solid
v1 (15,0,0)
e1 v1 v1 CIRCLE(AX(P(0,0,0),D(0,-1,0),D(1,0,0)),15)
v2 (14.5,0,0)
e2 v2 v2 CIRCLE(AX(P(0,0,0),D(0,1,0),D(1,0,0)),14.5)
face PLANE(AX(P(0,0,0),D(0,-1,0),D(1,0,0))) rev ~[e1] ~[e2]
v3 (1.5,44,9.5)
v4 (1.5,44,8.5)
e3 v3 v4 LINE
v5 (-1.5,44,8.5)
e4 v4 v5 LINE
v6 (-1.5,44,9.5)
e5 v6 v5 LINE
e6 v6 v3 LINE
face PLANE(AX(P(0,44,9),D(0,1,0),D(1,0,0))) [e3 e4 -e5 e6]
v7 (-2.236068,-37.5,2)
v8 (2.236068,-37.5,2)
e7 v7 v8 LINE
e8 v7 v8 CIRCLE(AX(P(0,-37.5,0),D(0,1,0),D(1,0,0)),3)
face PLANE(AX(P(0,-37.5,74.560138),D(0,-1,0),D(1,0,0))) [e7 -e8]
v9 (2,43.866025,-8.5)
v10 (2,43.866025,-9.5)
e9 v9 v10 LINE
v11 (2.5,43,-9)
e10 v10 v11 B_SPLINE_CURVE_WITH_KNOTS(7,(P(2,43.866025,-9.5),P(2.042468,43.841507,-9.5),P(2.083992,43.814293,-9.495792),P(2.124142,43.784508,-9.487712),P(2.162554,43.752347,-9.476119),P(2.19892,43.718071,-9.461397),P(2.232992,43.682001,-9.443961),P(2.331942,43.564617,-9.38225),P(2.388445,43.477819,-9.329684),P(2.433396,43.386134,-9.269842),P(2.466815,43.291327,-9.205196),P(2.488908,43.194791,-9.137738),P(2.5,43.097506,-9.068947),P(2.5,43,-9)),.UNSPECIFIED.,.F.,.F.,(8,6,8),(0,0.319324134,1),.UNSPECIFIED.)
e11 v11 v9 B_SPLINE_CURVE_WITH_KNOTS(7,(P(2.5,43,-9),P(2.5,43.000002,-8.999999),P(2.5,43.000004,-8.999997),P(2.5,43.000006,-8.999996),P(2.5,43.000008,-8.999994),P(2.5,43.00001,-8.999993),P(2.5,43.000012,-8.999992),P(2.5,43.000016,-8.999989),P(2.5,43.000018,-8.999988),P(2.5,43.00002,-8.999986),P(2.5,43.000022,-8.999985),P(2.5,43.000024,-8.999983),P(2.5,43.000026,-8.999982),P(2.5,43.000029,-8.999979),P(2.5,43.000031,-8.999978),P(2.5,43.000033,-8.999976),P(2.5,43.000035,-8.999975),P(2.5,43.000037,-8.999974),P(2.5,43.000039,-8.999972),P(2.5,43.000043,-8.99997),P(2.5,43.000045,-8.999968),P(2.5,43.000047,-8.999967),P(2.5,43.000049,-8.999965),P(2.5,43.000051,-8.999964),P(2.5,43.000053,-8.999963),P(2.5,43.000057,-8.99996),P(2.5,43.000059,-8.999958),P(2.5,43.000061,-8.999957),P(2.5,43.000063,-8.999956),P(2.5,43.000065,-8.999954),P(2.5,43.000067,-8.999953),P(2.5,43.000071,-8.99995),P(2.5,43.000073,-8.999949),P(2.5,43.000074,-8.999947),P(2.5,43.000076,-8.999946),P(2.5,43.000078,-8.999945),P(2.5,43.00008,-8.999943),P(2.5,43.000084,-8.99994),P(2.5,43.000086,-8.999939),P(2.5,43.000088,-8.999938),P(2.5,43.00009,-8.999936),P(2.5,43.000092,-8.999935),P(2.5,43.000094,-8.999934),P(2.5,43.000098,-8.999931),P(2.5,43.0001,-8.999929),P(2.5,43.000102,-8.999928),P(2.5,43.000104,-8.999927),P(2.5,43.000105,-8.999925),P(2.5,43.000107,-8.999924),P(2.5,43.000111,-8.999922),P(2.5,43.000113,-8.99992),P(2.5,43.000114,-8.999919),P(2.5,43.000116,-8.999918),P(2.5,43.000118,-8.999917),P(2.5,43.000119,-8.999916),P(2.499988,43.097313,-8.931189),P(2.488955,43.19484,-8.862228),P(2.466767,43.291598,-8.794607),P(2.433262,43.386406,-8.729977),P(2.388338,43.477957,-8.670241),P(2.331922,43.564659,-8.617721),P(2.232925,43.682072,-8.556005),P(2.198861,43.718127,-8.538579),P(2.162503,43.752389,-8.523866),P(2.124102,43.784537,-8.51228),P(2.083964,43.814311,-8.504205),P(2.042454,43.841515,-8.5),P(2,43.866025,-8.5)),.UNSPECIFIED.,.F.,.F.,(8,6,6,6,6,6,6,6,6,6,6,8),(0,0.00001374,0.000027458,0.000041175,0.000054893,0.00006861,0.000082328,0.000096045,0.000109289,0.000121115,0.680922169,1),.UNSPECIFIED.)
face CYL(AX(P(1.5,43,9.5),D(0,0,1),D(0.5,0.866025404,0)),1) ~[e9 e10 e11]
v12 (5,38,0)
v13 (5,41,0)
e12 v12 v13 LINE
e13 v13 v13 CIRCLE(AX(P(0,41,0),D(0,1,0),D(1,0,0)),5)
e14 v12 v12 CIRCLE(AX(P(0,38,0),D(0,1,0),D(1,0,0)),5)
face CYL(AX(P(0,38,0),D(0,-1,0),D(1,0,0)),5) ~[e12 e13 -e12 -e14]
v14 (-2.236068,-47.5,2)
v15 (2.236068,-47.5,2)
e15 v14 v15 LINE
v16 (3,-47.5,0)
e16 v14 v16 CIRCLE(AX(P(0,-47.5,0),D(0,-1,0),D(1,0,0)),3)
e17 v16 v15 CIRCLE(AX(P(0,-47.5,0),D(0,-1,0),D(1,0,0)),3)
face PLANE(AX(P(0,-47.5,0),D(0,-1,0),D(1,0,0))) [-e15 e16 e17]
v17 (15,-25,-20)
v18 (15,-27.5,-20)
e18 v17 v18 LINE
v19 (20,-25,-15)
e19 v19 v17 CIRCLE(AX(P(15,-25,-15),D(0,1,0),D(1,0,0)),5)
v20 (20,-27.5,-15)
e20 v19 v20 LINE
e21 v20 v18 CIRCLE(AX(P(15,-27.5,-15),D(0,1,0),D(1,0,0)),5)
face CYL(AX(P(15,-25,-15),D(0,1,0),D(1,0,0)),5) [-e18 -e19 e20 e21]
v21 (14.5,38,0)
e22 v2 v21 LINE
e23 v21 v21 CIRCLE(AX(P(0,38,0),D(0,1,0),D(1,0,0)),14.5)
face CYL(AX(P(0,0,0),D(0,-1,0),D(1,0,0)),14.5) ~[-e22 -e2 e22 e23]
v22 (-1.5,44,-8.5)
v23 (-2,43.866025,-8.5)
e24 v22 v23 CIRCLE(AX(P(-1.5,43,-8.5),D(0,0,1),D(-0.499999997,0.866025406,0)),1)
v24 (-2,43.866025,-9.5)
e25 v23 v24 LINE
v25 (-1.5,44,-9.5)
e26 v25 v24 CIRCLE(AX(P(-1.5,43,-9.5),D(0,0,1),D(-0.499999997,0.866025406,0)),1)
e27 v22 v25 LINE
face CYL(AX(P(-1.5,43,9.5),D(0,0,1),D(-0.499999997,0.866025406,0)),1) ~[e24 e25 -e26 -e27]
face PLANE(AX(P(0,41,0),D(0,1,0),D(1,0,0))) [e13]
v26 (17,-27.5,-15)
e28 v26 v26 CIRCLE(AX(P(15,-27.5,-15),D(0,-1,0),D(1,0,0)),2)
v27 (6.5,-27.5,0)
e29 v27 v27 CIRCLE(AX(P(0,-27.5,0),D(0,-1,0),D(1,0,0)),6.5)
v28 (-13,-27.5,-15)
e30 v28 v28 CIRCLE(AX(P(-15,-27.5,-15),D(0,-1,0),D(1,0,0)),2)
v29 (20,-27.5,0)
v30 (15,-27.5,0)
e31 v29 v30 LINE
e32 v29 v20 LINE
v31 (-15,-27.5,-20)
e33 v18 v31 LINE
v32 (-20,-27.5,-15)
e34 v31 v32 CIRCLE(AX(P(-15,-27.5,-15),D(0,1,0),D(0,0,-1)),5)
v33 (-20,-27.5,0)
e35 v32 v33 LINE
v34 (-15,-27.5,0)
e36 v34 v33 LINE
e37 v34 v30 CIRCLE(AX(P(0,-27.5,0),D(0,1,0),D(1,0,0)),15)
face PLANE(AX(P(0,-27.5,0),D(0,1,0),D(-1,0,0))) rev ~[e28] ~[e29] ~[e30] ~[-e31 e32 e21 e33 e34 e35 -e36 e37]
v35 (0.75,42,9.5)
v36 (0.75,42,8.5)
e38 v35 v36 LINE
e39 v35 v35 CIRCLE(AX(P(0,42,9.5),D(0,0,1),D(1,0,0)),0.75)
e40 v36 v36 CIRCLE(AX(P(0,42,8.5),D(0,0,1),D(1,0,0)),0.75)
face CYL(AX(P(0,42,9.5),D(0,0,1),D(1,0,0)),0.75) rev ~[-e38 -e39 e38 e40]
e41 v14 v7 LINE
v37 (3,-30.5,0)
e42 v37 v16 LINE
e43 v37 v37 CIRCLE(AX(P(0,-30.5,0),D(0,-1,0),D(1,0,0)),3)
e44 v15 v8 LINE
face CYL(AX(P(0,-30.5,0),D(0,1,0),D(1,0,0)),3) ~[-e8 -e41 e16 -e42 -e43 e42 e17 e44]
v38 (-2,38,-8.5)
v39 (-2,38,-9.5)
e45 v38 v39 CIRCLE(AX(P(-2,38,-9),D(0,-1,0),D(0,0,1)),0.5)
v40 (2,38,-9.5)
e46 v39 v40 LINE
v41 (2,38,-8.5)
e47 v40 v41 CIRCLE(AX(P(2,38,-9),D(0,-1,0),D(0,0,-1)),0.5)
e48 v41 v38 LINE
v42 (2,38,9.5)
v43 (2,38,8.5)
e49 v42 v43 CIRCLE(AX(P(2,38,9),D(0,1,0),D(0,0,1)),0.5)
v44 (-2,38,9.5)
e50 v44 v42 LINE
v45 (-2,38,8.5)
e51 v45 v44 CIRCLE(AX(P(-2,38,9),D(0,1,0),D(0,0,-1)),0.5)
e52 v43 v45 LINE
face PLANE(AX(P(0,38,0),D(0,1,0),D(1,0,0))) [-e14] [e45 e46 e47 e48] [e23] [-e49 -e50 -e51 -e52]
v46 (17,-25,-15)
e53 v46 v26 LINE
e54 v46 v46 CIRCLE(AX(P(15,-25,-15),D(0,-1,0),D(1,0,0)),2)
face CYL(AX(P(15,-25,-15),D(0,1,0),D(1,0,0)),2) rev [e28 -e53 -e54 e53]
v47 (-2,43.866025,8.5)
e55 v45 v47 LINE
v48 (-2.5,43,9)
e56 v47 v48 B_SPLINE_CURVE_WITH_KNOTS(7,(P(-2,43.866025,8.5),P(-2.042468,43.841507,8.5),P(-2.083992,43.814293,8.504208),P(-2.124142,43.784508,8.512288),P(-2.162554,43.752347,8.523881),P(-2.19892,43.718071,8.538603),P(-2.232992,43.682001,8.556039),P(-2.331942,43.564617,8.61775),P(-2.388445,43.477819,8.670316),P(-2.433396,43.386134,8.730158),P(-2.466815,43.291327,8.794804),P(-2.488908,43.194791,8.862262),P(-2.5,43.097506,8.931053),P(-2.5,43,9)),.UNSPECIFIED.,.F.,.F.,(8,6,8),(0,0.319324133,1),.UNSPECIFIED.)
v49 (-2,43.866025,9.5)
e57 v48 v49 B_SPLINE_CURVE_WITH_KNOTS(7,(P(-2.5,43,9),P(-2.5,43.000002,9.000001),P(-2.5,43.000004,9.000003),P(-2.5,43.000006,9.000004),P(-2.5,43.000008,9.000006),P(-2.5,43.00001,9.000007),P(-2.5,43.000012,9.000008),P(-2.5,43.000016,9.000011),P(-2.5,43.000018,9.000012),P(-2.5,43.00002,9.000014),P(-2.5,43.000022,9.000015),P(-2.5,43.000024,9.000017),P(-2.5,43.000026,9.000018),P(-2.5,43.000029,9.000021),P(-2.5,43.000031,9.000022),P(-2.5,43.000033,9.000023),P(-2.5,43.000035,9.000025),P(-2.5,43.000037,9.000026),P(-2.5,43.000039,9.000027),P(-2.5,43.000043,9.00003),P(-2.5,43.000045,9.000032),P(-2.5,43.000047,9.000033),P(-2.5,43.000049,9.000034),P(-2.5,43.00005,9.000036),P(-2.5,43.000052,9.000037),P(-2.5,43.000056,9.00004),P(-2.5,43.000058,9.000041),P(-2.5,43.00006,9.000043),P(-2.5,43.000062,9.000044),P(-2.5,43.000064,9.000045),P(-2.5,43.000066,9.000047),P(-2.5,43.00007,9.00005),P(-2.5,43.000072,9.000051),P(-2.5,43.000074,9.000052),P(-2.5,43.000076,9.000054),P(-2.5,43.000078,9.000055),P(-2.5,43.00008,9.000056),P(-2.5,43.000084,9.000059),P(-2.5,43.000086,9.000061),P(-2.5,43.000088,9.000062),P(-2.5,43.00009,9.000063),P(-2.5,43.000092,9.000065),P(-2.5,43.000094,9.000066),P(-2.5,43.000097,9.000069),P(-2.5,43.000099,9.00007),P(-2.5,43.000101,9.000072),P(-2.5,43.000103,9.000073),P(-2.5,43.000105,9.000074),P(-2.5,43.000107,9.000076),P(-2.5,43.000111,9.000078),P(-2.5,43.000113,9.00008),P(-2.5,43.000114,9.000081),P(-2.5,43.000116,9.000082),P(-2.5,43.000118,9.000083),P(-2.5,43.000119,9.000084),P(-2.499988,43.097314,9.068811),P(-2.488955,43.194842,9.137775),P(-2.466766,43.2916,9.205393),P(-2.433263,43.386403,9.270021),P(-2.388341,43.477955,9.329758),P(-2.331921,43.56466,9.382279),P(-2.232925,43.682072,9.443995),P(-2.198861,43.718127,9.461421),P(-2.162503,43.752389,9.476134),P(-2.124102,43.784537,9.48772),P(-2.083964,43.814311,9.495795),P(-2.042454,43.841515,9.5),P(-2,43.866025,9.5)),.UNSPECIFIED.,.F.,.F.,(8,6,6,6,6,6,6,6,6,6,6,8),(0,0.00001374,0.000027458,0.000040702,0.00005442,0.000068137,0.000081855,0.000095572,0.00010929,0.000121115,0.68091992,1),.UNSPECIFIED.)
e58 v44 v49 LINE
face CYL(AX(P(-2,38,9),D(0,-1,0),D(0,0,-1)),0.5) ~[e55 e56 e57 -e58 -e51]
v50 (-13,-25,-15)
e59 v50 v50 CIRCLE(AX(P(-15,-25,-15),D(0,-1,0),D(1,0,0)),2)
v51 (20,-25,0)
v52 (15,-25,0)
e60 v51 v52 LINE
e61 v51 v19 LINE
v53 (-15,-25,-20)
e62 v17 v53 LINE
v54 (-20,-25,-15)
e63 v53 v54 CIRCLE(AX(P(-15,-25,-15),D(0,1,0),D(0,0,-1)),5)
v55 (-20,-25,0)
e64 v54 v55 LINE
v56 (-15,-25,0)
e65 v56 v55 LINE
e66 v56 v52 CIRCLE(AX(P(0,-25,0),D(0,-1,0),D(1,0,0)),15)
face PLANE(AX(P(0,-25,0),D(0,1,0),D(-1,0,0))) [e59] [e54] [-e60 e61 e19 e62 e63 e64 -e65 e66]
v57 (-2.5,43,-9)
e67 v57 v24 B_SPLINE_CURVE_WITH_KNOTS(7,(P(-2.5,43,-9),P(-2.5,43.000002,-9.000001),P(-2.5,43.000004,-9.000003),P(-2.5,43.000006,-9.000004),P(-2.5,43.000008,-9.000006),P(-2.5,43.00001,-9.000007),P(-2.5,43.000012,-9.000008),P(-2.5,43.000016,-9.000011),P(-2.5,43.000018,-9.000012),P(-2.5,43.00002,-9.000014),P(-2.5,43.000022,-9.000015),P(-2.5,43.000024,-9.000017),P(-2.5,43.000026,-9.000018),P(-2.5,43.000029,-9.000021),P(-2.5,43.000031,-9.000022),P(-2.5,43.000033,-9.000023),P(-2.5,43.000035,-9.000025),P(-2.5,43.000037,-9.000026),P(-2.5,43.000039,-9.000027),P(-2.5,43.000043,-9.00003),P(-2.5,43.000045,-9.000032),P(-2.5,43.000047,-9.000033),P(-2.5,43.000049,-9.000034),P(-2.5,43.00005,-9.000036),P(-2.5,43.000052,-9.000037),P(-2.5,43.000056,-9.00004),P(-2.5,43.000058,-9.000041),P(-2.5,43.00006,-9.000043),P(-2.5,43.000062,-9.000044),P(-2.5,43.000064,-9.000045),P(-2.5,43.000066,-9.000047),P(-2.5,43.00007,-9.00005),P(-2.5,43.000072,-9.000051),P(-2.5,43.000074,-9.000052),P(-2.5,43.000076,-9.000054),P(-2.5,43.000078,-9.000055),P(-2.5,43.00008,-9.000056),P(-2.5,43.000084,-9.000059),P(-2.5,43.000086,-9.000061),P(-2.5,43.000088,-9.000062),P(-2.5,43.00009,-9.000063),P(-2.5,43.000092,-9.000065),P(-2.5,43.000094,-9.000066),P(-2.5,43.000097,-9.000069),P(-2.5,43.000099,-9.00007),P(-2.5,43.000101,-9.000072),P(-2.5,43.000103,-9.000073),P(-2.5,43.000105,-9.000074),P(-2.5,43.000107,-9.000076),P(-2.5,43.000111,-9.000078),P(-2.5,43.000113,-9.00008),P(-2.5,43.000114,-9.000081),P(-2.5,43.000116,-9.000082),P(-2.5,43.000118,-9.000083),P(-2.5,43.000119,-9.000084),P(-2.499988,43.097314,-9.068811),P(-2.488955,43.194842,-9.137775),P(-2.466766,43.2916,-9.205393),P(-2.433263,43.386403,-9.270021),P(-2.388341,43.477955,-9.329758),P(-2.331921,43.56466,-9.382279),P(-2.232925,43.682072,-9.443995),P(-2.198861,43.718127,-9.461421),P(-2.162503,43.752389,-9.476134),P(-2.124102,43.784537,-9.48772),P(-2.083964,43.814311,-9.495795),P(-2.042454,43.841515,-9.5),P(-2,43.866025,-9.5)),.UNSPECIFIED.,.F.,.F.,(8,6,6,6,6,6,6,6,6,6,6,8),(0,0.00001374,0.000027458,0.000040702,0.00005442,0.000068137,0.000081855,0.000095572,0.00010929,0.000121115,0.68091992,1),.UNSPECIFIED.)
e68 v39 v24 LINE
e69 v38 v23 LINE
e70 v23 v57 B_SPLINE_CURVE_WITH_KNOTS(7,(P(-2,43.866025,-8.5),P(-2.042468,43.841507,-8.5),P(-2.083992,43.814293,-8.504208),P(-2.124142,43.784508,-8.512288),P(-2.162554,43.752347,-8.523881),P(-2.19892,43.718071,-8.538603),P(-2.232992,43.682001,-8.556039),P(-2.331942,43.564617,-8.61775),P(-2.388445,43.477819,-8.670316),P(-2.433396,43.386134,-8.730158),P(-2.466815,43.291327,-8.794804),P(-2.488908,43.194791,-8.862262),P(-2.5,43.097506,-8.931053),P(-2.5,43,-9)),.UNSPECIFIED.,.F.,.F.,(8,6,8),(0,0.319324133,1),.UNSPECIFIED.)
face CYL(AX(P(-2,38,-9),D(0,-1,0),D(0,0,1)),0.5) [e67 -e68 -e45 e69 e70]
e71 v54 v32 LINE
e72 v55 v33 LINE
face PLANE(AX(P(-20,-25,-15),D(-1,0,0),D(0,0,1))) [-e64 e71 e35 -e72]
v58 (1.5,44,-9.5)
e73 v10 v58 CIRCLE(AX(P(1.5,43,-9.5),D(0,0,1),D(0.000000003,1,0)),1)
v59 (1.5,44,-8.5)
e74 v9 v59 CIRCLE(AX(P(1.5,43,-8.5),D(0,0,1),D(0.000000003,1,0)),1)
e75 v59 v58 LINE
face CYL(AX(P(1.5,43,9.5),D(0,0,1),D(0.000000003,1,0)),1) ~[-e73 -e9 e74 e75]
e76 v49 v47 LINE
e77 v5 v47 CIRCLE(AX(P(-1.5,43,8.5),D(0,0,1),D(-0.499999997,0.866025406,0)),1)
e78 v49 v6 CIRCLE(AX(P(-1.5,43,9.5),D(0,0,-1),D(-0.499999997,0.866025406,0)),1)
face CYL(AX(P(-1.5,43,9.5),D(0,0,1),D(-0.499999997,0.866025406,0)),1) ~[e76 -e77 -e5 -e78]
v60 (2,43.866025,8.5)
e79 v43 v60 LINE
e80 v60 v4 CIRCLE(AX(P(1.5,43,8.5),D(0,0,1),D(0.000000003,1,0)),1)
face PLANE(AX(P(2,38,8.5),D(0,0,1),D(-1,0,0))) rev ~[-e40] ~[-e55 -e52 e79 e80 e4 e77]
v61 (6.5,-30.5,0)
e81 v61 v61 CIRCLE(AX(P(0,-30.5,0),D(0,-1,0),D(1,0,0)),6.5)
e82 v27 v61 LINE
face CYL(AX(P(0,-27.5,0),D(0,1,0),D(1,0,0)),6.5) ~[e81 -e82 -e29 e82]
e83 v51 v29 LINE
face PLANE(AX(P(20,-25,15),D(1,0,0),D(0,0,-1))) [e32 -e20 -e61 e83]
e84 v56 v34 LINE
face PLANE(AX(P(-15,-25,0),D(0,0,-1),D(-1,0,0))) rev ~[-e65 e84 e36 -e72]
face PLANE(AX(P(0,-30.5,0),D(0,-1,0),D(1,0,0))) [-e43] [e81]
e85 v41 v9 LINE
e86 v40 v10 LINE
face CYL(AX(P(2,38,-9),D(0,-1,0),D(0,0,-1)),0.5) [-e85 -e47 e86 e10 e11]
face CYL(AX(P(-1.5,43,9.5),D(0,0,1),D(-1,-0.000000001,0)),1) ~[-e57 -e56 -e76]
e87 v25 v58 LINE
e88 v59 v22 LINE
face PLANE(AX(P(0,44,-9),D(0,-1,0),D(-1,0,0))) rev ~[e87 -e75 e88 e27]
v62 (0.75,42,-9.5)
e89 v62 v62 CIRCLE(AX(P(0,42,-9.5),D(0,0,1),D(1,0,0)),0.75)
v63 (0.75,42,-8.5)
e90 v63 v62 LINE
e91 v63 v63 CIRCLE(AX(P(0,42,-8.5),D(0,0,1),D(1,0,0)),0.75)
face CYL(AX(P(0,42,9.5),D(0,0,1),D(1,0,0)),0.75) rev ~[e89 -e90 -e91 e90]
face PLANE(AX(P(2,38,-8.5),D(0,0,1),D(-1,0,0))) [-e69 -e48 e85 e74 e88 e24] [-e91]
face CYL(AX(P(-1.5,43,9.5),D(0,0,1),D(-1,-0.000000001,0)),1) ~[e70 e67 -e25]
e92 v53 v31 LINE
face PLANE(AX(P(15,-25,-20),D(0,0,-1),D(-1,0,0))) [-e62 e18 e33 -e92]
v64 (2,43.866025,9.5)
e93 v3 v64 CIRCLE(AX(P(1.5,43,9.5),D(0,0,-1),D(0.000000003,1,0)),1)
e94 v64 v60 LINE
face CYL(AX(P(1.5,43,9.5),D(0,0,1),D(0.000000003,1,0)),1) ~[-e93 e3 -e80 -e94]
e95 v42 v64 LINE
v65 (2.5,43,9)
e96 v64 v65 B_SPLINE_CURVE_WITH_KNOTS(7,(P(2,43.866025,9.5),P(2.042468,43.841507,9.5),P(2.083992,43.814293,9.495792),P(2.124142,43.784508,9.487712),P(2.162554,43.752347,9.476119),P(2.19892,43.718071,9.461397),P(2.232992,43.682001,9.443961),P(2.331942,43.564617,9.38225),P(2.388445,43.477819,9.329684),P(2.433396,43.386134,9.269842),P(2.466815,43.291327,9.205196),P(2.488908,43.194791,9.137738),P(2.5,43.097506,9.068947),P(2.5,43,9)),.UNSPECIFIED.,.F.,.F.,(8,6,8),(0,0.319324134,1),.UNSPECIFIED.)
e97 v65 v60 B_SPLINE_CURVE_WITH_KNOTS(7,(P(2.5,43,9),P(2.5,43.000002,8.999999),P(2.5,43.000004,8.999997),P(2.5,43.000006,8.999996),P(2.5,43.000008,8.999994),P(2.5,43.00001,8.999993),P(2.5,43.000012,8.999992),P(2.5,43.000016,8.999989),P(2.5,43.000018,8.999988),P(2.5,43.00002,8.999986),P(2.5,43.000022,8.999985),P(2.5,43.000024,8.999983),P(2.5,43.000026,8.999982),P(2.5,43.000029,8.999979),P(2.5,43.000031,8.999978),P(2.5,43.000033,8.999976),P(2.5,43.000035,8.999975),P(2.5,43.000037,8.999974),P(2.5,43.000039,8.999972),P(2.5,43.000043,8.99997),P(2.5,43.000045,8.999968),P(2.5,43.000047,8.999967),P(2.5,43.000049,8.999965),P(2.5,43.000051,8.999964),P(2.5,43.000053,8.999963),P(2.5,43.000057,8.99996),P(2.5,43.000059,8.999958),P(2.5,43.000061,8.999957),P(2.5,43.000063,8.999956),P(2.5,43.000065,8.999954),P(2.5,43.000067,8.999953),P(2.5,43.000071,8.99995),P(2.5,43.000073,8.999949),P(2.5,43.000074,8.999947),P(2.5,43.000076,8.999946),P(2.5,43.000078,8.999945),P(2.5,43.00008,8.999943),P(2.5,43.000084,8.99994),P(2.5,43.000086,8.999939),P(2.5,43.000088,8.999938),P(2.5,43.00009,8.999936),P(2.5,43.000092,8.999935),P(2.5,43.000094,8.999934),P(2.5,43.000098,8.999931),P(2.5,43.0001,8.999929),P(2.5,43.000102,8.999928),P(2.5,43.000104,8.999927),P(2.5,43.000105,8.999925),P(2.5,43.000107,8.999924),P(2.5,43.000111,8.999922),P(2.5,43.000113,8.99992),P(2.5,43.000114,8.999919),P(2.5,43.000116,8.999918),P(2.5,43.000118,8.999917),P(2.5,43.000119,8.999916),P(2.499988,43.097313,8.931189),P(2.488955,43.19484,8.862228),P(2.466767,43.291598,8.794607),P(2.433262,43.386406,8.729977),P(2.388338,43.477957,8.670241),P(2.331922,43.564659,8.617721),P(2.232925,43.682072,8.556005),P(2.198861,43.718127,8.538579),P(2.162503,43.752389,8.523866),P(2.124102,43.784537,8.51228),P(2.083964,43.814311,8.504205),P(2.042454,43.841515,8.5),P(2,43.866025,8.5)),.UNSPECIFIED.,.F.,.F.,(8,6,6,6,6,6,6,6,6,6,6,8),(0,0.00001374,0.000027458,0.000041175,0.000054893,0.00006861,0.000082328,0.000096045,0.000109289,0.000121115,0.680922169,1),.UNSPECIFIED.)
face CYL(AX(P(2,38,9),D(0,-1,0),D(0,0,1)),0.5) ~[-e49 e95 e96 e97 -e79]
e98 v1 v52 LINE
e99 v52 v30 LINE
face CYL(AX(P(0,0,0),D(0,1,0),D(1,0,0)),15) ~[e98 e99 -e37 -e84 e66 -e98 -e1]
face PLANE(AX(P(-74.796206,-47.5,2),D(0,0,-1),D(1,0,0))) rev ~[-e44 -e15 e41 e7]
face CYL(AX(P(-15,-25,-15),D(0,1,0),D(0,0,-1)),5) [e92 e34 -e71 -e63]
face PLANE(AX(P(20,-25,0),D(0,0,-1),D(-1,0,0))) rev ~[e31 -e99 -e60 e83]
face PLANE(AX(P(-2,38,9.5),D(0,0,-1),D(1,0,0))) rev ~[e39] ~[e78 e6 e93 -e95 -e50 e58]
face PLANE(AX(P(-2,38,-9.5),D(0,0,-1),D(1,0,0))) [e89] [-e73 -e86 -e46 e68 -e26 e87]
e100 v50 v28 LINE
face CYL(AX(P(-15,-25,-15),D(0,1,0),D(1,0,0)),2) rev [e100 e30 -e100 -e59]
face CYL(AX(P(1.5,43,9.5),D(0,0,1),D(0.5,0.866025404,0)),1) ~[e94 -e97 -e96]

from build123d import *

# Parameters (mm, degrees)
CROQUIS1_R               = 14.5
MOTOR_DEPTH              = 38
CROQUIS2_R               = 5
SALIENTE_POSTERIOR_DEPTH = 3
BORNES_DEPTH             = 6
CROQUIS4_R               = 0.75
AGUJERO_BORNES_DEPTH     = 25
CROQUIS5_R               = 15
CAJA_REDUCTORA_DEPTH     = 25
CROQUIS6_R               = 2
BRIDA_DEPTH              = 2.5
CROQUIS7_R               = 6.5
SALIENTE_EJE_DEPTH       = 3
CROQUIS8_R               = 3
EJE_DEPTH                = 17
CORTE_PLANO_EJE_DEPTH    = 10
CROQUIS10_R              = 2
CORTE_BRIDA_DEPTH        = 10


with BuildPart() as part:
    # Croquis1 → Motor (new body)
    with BuildSketch(Plane(origin=(0, 0, 0), x_dir=(1, 0, 0), z_dir=(0, 1, 0))):
        Circle(CROQUIS1_R)
    extrude(amount=MOTOR_DEPTH)

    # Croquis2 → Saliente posterior (add)
    with BuildSketch(Plane(origin=(0, 38, 0), x_dir=(1, 0, 0), z_dir=(0, 1, 0))):
        Circle(CROQUIS2_R)
    extrude(amount=SALIENTE_POSTERIOR_DEPTH)

    # Croquis3 → Bornes (add)
    with BuildSketch(Plane(origin=(0, 38, 0), x_dir=(1, 0, 0), z_dir=(0, 1, 0))):
        with BuildLine():
            Line((-2, 9.5), (2, 9.5))
            ThreePointArc((2, 9.5), (2.5, 9), (2, 8.5))
            Line((2, 8.5), (-2, 8.5))
            ThreePointArc((-2, 8.5), (-2.5, 9), (-2, 9.5))
        make_face()
        with BuildLine():
            Line((-2, -9.5), (2, -9.5))
            ThreePointArc((2, -9.5), (2.5, -9), (2, -8.5))
            Line((2, -8.5), (-2, -8.5))
            ThreePointArc((-2, -8.5), (-2.5, -9), (-2, -9.5))
        make_face()
    extrude(amount=BORNES_DEPTH)

    # Croquis4 → Agujero Bornes (cut, through all)
    with BuildSketch(Plane.XY.offset(9.5)):
        with Locations((0, 42)):
            Circle(CROQUIS4_R)
        with BuildLine():
            ThreePointArc((2, 43.866025404), (2.366025404, 43.5), (2.5, 43))
            Line((2.5, 43), (2.5, 44))
            Line((2.5, 44), (2, 44))
            Line((2, 44), (2, 43.866025404))
        make_face()
        with BuildLine():
            ThreePointArc((1.5, 44), (1.758819045, 43.965925826), (2, 43.866025404))
            Line((2, 43.866025404), (2, 44))
            Line((2, 44), (1.5, 44))
        make_face()
        with BuildLine():
            Line((-2, 43.866025404), (-2, 44))
            Line((-2, 44), (-2.5, 44))
            Line((-2.5, 44), (-2.5, 43))
            ThreePointArc((-2.5, 43), (-2.366025404, 43.5), (-2, 43.866025404))
        make_face()
        with BuildLine():
            ThreePointArc((-2, 43.866025404), (-1.758819045, 43.965925826), (-1.5, 44))
            Line((-1.5, 44), (-2, 44))
            Line((-2, 44), (-2, 43.866025404))
        make_face()
    extrude(amount=-AGUJERO_BORNES_DEPTH, mode=Mode.SUBTRACT)

    # Croquis5 → Caja reductora (add)
    with BuildSketch(Plane.XZ):
        Circle(CROQUIS5_R)
    extrude(amount=CAJA_REDUCTORA_DEPTH)

    # Croquis6 → Brida (add)
    with BuildSketch(Plane.XZ.offset(25)):
        with BuildLine():
            Line((-15, 20), (15, 20))
            ThreePointArc((15, 20), (18.535533906, 18.535533906), (20, 15))
            Line((20, 15), (20, -15))
            ThreePointArc((20, -15), (18.535533906, -18.535533906), (15, -20))
            Line((15, -20), (-15, -20))
            ThreePointArc((-15, -20), (-18.535533906, -18.535533906), (-20, -15))
            Line((-20, -15), (-20, 15))
            ThreePointArc((-20, 15), (-18.535533906, 18.535533906), (-15, 20))
        make_face()
        with Locations((-15, 15)):
            Circle(CROQUIS6_R, mode=Mode.SUBTRACT)
        with Locations((15, 15)):
            Circle(CROQUIS6_R, mode=Mode.SUBTRACT)
        with Locations((15, -15)):
            Circle(CROQUIS6_R, mode=Mode.SUBTRACT)
        with Locations((-15, -15)):
            Circle(CROQUIS6_R, mode=Mode.SUBTRACT)
    extrude(amount=BRIDA_DEPTH)

    # Croquis7 → Saliente eje (add)
    with BuildSketch(Plane.XZ.offset(27.5)):
        Circle(CROQUIS7_R)
    extrude(amount=SALIENTE_EJE_DEPTH)

    # Croquis8 → Eje (add)
    with BuildSketch(Plane.XZ.offset(30.5)):
        Circle(CROQUIS8_R)
    extrude(amount=EJE_DEPTH)

    # Croquis9 → Corte Plano eje (cut)
    with BuildSketch(Plane.XZ.offset(47.5)):
        Polygon((-74.796206056, 2), (-2.236067977, 2), (2.236067977, 2), (74.796206056, 2), (74.796206056, 147.120276157), (-74.796206056, 147.120276157), align=None)
    extrude(amount=-CORTE_PLANO_EJE_DEPTH, mode=Mode.SUBTRACT)

    # Croquis10 → Corte Brida (cut)
    with BuildSketch(Plane(origin=(0, -25, 0), x_dir=(1, 0, 0), z_dir=(0, 1, 0))):
        with BuildLine():
            Line((20, 0), (15, 0))
            ThreePointArc((15, 0), (0, -15), (-15, 0))
            Line((-15, 0), (-20, 0))
            Line((-20, 0), (-20, -15))
            ThreePointArc((-20, -15), (-18.535533906, -18.535533906), (-15, -20))
            Line((-15, -20), (15, -20))
            ThreePointArc((15, -20), (18.535533906, -18.535533906), (20, -15))
            Line((20, -15), (20, 0))
        make_face()
        with Locations((-15, -15)):
            Circle(CROQUIS10_R, mode=Mode.SUBTRACT)
        with Locations((15, -15)):
            Circle(CROQUIS10_R, mode=Mode.SUBTRACT)
    extrude(amount=-CORTE_BRIDA_DEPTH, mode=Mode.SUBTRACT)


solid = part.part
